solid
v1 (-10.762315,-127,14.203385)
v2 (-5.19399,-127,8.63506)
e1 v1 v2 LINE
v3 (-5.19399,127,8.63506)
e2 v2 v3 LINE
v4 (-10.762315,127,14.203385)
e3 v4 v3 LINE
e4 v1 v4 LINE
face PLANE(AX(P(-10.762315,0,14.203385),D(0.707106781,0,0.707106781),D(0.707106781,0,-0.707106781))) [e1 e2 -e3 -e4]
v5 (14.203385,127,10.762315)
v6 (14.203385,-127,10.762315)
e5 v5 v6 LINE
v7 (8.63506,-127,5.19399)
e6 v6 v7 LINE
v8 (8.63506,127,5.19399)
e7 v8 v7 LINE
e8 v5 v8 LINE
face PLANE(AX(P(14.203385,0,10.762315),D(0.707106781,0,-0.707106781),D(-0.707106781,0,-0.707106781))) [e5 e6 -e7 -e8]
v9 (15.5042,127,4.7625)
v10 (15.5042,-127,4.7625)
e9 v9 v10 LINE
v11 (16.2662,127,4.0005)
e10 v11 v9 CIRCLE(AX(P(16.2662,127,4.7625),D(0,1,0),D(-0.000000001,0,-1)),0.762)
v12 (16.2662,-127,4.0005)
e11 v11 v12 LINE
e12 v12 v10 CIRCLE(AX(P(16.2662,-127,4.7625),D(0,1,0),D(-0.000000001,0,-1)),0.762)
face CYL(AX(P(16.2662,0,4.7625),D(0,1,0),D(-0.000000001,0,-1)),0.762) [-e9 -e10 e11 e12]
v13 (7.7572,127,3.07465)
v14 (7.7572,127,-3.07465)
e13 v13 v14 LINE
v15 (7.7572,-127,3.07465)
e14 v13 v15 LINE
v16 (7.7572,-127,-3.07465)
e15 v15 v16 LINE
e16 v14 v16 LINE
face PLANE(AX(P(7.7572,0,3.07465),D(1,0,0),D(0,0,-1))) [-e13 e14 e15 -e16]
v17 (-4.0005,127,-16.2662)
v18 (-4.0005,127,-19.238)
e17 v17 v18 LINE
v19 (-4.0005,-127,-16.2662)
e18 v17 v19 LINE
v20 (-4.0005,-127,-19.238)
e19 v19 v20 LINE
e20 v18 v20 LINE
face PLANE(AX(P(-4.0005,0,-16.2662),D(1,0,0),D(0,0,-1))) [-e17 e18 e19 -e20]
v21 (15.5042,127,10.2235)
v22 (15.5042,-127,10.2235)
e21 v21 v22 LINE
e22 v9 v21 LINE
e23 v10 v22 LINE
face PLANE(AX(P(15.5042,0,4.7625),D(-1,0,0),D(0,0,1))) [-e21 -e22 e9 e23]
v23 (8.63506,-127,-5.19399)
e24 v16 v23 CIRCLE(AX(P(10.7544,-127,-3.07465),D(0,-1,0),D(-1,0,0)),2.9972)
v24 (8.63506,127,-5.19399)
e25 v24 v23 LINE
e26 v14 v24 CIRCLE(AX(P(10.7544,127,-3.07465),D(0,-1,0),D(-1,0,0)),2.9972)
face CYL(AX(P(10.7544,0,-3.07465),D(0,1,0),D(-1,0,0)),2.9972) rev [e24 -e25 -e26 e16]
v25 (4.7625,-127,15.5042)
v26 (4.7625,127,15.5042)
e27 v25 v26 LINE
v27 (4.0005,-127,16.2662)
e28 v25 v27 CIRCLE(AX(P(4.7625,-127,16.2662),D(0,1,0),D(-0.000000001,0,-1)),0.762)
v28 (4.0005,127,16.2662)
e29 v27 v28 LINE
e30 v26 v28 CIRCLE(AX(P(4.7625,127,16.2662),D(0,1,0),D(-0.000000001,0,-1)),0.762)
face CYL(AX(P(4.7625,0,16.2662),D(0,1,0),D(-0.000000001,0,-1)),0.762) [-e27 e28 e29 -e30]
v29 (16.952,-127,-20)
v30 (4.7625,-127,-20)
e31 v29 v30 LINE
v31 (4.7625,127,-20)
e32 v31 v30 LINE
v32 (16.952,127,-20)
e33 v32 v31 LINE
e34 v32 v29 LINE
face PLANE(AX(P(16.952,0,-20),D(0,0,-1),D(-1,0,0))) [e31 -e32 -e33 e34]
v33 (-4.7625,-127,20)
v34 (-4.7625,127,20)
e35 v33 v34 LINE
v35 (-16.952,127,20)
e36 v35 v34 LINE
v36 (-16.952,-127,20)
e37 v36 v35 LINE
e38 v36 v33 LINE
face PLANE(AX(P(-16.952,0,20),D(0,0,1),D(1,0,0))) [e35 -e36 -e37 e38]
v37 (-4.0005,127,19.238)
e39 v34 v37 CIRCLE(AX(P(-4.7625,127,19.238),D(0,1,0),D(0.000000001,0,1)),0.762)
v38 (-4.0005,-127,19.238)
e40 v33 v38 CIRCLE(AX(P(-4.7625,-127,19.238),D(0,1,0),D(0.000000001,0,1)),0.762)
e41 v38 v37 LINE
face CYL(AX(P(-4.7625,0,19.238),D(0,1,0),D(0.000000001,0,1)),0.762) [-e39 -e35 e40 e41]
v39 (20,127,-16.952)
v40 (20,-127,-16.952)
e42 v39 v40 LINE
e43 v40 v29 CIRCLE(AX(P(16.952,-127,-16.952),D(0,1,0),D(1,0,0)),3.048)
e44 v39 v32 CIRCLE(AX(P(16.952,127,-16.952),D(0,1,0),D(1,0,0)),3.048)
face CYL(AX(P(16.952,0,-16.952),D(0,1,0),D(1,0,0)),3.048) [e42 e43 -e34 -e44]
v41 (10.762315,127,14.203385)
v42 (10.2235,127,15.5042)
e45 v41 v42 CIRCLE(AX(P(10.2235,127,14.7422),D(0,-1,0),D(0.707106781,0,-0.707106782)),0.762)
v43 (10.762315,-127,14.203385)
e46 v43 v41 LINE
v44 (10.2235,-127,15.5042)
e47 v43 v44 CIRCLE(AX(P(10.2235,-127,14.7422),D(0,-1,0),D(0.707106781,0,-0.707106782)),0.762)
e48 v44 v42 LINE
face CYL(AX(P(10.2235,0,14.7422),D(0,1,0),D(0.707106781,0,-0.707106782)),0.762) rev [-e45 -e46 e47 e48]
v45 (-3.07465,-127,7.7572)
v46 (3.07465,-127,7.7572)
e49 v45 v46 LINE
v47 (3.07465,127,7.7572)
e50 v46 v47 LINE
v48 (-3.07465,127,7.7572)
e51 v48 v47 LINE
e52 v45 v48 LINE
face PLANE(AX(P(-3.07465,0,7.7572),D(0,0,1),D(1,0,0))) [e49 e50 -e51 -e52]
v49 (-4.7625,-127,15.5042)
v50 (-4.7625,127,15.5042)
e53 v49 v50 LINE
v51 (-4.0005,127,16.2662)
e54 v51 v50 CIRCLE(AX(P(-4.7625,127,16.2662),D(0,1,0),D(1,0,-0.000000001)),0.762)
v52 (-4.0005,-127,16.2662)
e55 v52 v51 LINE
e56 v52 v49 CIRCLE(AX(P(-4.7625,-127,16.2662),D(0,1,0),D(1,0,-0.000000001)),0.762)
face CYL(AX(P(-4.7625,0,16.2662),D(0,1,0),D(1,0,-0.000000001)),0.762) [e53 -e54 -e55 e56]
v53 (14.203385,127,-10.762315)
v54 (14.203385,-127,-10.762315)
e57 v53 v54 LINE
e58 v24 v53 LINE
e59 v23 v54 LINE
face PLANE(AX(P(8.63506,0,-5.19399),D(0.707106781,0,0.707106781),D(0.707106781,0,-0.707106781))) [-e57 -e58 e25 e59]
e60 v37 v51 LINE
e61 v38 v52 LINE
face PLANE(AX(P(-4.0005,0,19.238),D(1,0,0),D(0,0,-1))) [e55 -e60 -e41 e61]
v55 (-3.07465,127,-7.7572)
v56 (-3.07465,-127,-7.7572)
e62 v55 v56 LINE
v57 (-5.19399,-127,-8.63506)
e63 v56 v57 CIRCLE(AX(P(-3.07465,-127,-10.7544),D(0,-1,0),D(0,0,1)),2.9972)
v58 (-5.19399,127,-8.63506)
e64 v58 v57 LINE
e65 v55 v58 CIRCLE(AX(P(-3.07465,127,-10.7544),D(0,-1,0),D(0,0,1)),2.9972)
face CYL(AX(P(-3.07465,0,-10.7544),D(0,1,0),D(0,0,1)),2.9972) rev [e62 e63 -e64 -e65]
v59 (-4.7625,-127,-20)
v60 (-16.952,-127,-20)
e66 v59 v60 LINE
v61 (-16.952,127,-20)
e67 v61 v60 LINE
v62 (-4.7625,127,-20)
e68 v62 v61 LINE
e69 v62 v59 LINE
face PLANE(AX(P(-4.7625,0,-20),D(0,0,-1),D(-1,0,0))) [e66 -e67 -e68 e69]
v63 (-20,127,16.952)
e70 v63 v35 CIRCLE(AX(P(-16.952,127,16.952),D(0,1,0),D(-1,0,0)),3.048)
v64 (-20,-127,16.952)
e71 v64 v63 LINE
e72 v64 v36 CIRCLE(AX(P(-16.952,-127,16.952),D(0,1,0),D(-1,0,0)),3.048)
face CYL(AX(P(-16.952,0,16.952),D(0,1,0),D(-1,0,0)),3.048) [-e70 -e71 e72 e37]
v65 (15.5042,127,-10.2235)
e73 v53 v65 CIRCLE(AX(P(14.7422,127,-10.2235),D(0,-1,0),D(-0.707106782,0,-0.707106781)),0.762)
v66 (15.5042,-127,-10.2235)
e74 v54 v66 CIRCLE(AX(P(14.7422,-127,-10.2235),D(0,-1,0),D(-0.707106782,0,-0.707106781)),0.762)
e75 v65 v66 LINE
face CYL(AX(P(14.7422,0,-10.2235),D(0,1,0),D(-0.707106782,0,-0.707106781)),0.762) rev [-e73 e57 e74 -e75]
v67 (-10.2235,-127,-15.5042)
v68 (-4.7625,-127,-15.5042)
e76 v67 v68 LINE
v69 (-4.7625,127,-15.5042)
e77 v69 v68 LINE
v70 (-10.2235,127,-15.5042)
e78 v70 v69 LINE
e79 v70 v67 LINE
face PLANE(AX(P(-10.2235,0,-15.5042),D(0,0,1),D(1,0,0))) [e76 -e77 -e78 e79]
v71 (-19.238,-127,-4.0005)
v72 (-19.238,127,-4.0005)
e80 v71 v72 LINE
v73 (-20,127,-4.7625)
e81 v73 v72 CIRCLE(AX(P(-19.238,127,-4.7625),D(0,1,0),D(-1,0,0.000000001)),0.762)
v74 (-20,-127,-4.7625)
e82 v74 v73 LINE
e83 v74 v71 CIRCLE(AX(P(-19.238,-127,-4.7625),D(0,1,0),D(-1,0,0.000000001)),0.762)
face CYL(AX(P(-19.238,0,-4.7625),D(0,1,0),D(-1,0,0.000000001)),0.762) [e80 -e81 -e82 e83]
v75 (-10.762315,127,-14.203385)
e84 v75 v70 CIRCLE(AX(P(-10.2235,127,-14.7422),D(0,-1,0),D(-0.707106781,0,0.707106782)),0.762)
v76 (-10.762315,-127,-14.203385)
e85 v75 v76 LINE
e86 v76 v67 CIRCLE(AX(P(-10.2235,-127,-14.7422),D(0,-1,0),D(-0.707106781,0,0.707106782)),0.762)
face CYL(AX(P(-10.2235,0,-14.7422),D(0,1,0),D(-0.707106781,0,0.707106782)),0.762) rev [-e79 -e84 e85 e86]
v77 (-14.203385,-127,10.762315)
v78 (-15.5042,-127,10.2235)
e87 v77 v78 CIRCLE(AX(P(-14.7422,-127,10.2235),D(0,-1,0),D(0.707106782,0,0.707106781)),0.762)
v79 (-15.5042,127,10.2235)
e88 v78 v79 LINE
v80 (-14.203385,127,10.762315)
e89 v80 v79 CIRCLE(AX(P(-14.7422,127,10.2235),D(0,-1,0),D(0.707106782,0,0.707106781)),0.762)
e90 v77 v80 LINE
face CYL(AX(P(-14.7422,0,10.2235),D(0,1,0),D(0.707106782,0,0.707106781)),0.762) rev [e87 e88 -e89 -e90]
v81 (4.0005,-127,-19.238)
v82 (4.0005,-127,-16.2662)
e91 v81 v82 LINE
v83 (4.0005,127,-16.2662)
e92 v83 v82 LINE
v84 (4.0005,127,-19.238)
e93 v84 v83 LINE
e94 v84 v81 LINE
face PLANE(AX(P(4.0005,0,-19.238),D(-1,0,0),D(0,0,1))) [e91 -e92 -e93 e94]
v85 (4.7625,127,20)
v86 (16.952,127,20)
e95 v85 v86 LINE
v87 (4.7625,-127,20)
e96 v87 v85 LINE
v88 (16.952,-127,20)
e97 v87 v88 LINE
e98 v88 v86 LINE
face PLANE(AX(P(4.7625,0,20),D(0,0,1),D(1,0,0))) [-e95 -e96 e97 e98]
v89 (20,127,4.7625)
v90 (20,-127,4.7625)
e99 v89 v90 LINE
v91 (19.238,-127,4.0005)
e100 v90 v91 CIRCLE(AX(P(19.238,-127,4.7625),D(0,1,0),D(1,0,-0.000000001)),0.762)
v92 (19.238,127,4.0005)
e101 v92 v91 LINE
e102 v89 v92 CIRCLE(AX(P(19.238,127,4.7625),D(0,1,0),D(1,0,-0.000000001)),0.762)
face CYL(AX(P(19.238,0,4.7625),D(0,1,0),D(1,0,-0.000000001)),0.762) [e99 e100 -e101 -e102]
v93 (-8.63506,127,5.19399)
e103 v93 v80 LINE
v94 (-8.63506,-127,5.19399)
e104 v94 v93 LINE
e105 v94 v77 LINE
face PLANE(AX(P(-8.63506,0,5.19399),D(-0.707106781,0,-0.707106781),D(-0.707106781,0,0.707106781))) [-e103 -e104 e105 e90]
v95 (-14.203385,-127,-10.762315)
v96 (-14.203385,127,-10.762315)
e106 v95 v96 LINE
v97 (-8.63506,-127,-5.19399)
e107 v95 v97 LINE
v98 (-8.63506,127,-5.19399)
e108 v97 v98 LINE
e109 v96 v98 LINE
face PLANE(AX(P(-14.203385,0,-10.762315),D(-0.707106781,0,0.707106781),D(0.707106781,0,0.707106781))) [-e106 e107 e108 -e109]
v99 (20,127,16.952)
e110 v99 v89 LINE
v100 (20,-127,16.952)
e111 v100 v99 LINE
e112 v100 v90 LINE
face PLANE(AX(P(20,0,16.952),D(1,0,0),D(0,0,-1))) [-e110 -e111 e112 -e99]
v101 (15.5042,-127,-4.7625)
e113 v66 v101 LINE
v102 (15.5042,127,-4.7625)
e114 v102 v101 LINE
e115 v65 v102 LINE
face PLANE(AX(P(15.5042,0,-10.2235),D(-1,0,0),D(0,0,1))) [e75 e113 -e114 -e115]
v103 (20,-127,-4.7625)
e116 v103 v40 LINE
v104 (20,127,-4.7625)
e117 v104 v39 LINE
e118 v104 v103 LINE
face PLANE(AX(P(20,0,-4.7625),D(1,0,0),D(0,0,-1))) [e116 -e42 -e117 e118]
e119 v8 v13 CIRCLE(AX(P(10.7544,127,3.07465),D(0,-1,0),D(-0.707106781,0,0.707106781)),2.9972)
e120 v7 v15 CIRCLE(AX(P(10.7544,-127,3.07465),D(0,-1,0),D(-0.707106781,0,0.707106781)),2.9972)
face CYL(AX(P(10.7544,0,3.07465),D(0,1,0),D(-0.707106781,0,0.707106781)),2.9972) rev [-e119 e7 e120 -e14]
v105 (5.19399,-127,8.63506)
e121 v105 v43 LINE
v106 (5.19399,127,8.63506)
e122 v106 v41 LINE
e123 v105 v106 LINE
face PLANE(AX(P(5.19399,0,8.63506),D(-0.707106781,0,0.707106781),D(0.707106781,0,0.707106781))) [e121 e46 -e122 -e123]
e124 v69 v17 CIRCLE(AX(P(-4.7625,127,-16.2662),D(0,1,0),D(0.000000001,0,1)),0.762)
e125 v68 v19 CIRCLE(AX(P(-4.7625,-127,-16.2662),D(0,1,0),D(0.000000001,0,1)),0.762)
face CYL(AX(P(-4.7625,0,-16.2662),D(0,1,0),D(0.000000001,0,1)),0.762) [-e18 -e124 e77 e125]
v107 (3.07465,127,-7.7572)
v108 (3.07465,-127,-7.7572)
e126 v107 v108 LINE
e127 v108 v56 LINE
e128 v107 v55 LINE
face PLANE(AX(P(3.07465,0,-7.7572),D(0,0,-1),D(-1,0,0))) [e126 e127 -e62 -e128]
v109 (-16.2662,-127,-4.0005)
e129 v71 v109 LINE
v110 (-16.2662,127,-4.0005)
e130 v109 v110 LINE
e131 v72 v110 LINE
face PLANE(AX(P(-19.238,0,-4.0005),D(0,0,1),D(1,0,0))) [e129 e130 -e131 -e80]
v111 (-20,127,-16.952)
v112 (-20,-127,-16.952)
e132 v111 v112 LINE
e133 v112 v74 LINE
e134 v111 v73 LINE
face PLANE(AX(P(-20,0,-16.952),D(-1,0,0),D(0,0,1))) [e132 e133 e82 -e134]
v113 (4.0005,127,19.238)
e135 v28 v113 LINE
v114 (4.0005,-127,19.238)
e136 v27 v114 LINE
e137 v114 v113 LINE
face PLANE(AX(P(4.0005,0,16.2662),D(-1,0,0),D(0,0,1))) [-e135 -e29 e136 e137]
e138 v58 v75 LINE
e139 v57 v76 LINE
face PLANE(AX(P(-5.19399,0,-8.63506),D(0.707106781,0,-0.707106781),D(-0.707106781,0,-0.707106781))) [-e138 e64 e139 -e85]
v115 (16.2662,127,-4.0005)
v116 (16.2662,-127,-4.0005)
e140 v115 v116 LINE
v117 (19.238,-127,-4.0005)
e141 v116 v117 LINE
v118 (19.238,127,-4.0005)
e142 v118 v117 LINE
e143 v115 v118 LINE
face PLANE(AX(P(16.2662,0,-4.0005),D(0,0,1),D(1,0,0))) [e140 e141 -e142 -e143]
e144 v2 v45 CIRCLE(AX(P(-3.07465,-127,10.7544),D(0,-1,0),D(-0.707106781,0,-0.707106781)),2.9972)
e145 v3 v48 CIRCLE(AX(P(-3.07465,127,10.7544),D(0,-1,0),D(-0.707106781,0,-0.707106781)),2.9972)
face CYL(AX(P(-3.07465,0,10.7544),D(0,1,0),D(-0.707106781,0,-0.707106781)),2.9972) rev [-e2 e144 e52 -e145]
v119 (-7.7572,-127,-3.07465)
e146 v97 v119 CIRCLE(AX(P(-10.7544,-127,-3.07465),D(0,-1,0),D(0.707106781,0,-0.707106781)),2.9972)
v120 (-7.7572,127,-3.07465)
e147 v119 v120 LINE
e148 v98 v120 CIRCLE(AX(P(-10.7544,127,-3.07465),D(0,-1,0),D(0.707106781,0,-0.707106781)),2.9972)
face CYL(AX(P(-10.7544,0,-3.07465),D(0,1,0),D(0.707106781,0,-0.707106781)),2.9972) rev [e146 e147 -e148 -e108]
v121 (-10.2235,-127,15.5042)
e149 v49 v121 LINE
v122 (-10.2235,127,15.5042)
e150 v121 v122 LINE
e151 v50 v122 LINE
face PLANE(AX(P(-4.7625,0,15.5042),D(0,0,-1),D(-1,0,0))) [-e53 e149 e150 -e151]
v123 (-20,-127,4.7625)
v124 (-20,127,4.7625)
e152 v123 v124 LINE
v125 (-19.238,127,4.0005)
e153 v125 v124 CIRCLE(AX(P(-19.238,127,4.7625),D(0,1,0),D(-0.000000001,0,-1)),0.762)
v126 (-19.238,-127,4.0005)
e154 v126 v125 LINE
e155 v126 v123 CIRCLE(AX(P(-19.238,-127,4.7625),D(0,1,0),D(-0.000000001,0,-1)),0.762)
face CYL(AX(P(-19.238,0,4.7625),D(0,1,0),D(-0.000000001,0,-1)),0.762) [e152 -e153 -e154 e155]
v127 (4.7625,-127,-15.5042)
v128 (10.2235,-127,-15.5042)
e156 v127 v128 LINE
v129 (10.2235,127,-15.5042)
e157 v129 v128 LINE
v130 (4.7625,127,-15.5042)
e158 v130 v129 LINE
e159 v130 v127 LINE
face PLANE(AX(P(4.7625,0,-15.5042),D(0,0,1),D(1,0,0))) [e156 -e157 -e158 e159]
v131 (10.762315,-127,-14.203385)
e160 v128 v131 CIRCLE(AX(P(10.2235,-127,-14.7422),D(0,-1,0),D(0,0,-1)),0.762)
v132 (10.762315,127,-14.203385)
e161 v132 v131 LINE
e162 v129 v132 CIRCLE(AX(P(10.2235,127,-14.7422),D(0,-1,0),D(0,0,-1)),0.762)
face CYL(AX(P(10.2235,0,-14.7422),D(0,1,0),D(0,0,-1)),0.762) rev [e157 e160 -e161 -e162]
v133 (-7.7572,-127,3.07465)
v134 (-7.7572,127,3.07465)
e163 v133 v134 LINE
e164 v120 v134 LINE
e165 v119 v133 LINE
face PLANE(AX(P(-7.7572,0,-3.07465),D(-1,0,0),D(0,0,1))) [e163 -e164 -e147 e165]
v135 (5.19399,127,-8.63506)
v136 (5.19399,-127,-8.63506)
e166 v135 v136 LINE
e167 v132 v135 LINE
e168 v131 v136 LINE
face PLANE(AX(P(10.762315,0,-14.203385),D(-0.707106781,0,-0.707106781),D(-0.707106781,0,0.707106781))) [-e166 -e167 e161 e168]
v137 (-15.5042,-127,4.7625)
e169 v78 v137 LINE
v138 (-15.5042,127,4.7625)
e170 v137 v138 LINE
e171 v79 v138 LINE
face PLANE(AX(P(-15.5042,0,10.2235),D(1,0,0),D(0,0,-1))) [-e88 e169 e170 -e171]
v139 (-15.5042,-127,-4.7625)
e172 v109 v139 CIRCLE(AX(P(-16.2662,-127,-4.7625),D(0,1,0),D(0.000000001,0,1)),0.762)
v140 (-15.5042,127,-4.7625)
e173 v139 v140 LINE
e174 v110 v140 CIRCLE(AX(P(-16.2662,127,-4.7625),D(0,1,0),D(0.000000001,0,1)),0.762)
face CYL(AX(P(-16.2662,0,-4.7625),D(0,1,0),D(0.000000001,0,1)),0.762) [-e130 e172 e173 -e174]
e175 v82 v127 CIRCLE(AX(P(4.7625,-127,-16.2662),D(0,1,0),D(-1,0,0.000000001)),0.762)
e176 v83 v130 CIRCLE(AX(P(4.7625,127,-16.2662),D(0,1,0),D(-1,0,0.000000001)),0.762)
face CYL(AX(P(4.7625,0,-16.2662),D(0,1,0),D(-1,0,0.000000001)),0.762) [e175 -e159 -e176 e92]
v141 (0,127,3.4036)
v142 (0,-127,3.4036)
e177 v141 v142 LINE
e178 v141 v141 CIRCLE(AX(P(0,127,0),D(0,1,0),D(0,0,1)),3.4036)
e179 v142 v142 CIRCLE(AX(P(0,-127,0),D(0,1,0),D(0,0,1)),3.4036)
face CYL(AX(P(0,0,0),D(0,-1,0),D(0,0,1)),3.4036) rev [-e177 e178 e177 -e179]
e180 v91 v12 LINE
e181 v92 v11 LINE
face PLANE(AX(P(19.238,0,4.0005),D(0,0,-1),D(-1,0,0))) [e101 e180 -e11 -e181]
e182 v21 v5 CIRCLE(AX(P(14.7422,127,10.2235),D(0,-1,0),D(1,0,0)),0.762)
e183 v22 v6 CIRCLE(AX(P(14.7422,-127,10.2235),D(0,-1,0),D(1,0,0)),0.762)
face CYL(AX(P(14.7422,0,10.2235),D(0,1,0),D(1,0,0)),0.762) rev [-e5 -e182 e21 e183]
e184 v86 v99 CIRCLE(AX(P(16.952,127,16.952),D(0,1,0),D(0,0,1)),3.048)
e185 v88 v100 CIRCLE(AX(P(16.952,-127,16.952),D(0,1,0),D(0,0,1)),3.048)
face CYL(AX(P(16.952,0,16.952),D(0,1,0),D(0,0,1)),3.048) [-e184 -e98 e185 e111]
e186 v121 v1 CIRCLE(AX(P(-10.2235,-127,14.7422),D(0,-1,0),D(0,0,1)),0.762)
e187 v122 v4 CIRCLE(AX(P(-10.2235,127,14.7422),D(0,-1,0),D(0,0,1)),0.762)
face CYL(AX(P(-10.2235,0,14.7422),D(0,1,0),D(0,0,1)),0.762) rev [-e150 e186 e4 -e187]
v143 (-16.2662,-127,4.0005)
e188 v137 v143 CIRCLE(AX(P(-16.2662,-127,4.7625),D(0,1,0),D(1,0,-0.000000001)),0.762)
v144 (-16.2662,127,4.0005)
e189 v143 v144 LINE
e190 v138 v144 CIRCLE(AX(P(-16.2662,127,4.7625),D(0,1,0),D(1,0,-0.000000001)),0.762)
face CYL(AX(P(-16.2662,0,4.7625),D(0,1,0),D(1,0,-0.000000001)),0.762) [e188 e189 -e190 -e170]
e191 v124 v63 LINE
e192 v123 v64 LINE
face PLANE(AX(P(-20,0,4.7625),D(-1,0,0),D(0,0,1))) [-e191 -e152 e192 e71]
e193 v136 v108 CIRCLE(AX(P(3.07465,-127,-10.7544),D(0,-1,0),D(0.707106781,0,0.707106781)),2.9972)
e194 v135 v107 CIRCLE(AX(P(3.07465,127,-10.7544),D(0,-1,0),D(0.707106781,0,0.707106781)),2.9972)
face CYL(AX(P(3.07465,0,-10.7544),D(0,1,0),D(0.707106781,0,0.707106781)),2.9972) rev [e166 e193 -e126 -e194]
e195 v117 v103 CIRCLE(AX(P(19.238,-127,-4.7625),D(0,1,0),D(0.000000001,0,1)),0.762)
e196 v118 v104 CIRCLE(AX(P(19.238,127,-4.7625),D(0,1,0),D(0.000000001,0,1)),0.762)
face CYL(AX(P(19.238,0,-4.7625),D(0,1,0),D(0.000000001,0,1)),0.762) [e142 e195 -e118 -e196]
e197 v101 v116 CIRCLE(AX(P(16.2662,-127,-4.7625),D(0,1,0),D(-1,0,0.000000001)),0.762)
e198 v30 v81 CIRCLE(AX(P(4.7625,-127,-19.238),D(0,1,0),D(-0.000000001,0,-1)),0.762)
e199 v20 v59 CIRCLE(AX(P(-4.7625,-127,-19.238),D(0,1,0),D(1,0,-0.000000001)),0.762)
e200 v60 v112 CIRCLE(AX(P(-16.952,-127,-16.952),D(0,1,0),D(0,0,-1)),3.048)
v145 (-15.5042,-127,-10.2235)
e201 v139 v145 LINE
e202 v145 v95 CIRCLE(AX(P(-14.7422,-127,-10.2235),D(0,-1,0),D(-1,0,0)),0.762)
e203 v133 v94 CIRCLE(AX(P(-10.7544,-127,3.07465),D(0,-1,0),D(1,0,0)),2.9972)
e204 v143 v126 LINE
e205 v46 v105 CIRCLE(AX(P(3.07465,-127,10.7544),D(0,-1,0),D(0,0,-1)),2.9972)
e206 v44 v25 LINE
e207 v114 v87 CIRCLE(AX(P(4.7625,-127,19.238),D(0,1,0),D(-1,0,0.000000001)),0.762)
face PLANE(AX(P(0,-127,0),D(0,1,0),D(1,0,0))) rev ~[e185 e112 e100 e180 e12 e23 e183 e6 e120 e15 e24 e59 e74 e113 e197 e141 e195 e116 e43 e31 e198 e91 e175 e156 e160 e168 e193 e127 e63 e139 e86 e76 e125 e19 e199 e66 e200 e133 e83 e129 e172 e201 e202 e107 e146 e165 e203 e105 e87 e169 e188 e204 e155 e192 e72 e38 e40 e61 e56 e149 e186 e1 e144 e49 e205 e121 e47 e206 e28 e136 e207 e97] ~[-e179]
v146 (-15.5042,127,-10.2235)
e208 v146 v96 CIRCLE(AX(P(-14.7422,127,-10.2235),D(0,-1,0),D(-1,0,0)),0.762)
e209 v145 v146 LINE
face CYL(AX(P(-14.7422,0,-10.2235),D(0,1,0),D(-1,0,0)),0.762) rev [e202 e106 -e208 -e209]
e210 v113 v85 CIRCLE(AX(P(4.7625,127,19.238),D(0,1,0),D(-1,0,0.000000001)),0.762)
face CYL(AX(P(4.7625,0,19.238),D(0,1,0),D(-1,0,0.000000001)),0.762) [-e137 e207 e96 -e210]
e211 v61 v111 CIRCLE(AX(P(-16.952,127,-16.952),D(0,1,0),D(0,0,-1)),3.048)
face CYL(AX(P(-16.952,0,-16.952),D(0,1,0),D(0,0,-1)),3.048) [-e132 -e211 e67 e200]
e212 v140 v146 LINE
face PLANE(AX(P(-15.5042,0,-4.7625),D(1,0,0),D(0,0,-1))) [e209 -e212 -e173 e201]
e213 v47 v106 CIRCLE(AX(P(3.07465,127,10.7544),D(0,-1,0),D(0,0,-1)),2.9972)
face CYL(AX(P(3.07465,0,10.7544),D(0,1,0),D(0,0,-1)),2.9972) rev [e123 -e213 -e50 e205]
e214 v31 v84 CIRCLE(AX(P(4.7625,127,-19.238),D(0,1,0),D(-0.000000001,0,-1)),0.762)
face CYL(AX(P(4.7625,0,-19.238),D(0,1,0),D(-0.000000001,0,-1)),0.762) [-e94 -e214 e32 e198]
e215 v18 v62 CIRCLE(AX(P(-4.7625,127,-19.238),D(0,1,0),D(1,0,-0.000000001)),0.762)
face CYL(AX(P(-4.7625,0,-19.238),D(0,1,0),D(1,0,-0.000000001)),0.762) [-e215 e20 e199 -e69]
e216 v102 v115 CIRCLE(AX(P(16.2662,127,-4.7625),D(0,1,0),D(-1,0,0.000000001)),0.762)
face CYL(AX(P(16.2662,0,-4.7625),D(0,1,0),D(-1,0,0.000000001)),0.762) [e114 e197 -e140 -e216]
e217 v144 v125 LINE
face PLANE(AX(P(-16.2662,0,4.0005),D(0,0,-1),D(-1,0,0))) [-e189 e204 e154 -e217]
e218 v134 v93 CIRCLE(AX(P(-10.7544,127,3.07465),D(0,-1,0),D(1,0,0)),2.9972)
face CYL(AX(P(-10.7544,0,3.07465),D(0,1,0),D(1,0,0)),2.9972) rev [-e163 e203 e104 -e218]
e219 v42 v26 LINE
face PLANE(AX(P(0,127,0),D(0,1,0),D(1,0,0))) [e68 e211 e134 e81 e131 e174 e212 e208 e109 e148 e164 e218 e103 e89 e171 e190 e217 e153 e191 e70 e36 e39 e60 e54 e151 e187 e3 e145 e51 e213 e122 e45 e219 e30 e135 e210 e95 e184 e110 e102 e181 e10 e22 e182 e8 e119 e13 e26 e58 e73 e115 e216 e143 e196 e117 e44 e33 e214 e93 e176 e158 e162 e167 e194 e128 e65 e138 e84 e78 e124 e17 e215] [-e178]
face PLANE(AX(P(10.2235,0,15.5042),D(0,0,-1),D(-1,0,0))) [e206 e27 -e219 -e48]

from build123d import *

# Parameters (mm, degrees)
SKETCH1_R           = 3.4036
BOSS_EXTRUDE1_DEPTH = 127


with BuildPart() as part:
    # Sketch1 → Boss-Extrude1 (new, symmetric)
    with BuildSketch(Plane(origin=(0, 0, 0), x_dir=(1, 0, 0), z_dir=(0, 1, 0))):
        with BuildLine():
            Line((-20, 16.952), (-20, 4.7625))
            ThreePointArc((-20, 4.7625), (-19.776815367, 4.223684633), (-19.238, 4.0005))
            Line((-19.238, 4.0005), (-16.2662, 4.0005))
            ThreePointArc((-16.2662, 4.0005), (-15.727384633, 4.223684633), (-15.5042, 4.7625))
            Line((-15.5042, 4.7625), (-15.5042, 10.2235))
            ThreePointArc((-15.5042, 10.2235), (-15.033804775, 10.927496204), (-14.203384633, 10.762315367))
            Line((-14.203384633, 10.762315367), (-8.635059555, 5.19399029))
            ThreePointArc((-8.635059555, 5.19399029), (-7.985348265, 4.221628629), (-7.7572, 3.074649845))
            Line((-7.7572, 3.074649845), (-7.7572, -3.074649845))
            ThreePointArc((-7.7572, -3.074649845), (-7.985348265, -4.221628629), (-8.635059555, -5.19399029))
            Line((-8.635059555, -5.19399029), (-14.203384633, -10.762315367))
            ThreePointArc((-14.203384633, -10.762315367), (-15.033804775, -10.927496204), (-15.5042, -10.2235))
            Line((-15.5042, -10.2235), (-15.5042, -4.7625))
            ThreePointArc((-15.5042, -4.7625), (-15.727384633, -4.223684633), (-16.2662, -4.0005))
            Line((-16.2662, -4.0005), (-19.238, -4.0005))
            ThreePointArc((-19.238, -4.0005), (-19.776815367, -4.223684633), (-20, -4.7625))
            Line((-20, -4.7625), (-20, -16.952))
            ThreePointArc((-20, -16.952), (-19.107261469, -19.107261469), (-16.952, -20))
            Line((-16.952, -20), (-4.7625, -20))
            ThreePointArc((-4.7625, -20), (-4.223684633, -19.776815367), (-4.0005, -19.238))
            Line((-4.0005, -19.238), (-4.0005, -16.2662))
            ThreePointArc((-4.0005, -16.2662), (-4.223684633, -15.727384633), (-4.7625, -15.5042))
            Line((-4.7625, -15.5042), (-10.2235, -15.5042))
            ThreePointArc((-10.2235, -15.5042), (-10.927496204, -15.033804775), (-10.762315367, -14.203384633))
            Line((-10.762315367, -14.203384633), (-5.19399029, -8.635059555))
            ThreePointArc((-5.19399029, -8.635059555), (-4.221628629, -7.985348265), (-3.074649845, -7.7572))
            Line((-3.074649845, -7.7572), (3.074649845, -7.7572))
            ThreePointArc((3.074649845, -7.7572), (4.221628629, -7.985348265), (5.19399029, -8.635059555))
            Line((5.19399029, -8.635059555), (10.762315367, -14.203384633))
            ThreePointArc((10.762315367, -14.203384633), (10.927496204, -15.033804775), (10.2235, -15.5042))
            Line((10.2235, -15.5042), (4.7625, -15.5042))
            ThreePointArc((4.7625, -15.5042), (4.223684633, -15.727384633), (4.0005, -16.2662))
            Line((4.0005, -16.2662), (4.0005, -19.238))
            ThreePointArc((4.0005, -19.238), (4.223684633, -19.776815367), (4.7625, -20))
            Line((4.7625, -20), (16.952, -20))
            ThreePointArc((16.952, -20), (19.107261469, -19.107261469), (20, -16.952))
            Line((20, -16.952), (20, -4.7625))
            ThreePointArc((20, -4.7625), (19.776815367, -4.223684633), (19.238, -4.0005))
            Line((19.238, -4.0005), (16.2662, -4.0005))
            ThreePointArc((16.2662, -4.0005), (15.727384633, -4.223684633), (15.5042, -4.7625))
            Line((15.5042, -4.7625), (15.5042, -10.2235))
            ThreePointArc((15.5042, -10.2235), (15.033804775, -10.927496204), (14.203384633, -10.762315367))
            Line((14.203384633, -10.762315367), (8.635059555, -5.19399029))
            ThreePointArc((8.635059555, -5.19399029), (7.985348265, -4.221628629), (7.7572, -3.074649845))
            Line((7.7572, -3.074649845), (7.7572, 3.074649845))
            ThreePointArc((7.7572, 3.074649845), (7.985348265, 4.221628629), (8.635059555, 5.19399029))
            Line((8.635059555, 5.19399029), (14.203384633, 10.762315367))
            ThreePointArc((14.203384633, 10.762315367), (15.033804775, 10.927496204), (15.5042, 10.2235))
            Line((15.5042, 10.2235), (15.5042, 4.7625))
            ThreePointArc((15.5042, 4.7625), (15.727384633, 4.223684633), (16.2662, 4.0005))
            Line((16.2662, 4.0005), (19.238, 4.0005))
            ThreePointArc((19.238, 4.0005), (19.776815367, 4.223684633), (20, 4.7625))
            Line((20, 4.7625), (20, 16.952))
            ThreePointArc((20, 16.952), (19.107261469, 19.107261469), (16.952, 20))
            Line((16.952, 20), (4.7625, 20))
            ThreePointArc((4.7625, 20), (4.223684633, 19.776815367), (4.0005, 19.238))
            Line((4.0005, 19.238), (4.0005, 16.2662))
            ThreePointArc((4.0005, 16.2662), (4.223684633, 15.727384633), (4.7625, 15.5042))
            Line((4.7625, 15.5042), (10.2235, 15.5042))
            ThreePointArc((10.2235, 15.5042), (10.927496204, 15.033804775), (10.762315367, 14.203384633))
            Line((10.762315367, 14.203384633), (5.19399029, 8.635059555))
            ThreePointArc((5.19399029, 8.635059555), (4.221628629, 7.985348265), (3.074649845, 7.7572))
            Line((3.074649845, 7.7572), (-3.074649845, 7.7572))
            ThreePointArc((-3.074649845, 7.7572), (-4.221628629, 7.985348265), (-5.19399029, 8.635059555))
            Line((-5.19399029, 8.635059555), (-10.762315367, 14.203384633))
            ThreePointArc((-10.762315367, 14.203384633), (-10.927496204, 15.033804775), (-10.2235, 15.5042))
            Line((-10.2235, 15.5042), (-4.7625, 15.5042))
            ThreePointArc((-4.7625, 15.5042), (-4.223684633, 15.727384633), (-4.0005, 16.2662))
            Line((-4.0005, 16.2662), (-4.0005, 19.238))
            ThreePointArc((-4.0005, 19.238), (-4.223684633, 19.776815367), (-4.7625, 20))
            Line((-4.7625, 20), (-16.952, 20))
            ThreePointArc((-16.952, 20), (-19.107261469, 19.107261469), (-20, 16.952))
        make_face()
        with Locations(Location((0, 0, 0), (0, 0, 270))):
            Circle(SKETCH1_R, mode=Mode.SUBTRACT)
    extrude(amount=BOSS_EXTRUDE1_DEPTH, both=True)


solid = part.part
